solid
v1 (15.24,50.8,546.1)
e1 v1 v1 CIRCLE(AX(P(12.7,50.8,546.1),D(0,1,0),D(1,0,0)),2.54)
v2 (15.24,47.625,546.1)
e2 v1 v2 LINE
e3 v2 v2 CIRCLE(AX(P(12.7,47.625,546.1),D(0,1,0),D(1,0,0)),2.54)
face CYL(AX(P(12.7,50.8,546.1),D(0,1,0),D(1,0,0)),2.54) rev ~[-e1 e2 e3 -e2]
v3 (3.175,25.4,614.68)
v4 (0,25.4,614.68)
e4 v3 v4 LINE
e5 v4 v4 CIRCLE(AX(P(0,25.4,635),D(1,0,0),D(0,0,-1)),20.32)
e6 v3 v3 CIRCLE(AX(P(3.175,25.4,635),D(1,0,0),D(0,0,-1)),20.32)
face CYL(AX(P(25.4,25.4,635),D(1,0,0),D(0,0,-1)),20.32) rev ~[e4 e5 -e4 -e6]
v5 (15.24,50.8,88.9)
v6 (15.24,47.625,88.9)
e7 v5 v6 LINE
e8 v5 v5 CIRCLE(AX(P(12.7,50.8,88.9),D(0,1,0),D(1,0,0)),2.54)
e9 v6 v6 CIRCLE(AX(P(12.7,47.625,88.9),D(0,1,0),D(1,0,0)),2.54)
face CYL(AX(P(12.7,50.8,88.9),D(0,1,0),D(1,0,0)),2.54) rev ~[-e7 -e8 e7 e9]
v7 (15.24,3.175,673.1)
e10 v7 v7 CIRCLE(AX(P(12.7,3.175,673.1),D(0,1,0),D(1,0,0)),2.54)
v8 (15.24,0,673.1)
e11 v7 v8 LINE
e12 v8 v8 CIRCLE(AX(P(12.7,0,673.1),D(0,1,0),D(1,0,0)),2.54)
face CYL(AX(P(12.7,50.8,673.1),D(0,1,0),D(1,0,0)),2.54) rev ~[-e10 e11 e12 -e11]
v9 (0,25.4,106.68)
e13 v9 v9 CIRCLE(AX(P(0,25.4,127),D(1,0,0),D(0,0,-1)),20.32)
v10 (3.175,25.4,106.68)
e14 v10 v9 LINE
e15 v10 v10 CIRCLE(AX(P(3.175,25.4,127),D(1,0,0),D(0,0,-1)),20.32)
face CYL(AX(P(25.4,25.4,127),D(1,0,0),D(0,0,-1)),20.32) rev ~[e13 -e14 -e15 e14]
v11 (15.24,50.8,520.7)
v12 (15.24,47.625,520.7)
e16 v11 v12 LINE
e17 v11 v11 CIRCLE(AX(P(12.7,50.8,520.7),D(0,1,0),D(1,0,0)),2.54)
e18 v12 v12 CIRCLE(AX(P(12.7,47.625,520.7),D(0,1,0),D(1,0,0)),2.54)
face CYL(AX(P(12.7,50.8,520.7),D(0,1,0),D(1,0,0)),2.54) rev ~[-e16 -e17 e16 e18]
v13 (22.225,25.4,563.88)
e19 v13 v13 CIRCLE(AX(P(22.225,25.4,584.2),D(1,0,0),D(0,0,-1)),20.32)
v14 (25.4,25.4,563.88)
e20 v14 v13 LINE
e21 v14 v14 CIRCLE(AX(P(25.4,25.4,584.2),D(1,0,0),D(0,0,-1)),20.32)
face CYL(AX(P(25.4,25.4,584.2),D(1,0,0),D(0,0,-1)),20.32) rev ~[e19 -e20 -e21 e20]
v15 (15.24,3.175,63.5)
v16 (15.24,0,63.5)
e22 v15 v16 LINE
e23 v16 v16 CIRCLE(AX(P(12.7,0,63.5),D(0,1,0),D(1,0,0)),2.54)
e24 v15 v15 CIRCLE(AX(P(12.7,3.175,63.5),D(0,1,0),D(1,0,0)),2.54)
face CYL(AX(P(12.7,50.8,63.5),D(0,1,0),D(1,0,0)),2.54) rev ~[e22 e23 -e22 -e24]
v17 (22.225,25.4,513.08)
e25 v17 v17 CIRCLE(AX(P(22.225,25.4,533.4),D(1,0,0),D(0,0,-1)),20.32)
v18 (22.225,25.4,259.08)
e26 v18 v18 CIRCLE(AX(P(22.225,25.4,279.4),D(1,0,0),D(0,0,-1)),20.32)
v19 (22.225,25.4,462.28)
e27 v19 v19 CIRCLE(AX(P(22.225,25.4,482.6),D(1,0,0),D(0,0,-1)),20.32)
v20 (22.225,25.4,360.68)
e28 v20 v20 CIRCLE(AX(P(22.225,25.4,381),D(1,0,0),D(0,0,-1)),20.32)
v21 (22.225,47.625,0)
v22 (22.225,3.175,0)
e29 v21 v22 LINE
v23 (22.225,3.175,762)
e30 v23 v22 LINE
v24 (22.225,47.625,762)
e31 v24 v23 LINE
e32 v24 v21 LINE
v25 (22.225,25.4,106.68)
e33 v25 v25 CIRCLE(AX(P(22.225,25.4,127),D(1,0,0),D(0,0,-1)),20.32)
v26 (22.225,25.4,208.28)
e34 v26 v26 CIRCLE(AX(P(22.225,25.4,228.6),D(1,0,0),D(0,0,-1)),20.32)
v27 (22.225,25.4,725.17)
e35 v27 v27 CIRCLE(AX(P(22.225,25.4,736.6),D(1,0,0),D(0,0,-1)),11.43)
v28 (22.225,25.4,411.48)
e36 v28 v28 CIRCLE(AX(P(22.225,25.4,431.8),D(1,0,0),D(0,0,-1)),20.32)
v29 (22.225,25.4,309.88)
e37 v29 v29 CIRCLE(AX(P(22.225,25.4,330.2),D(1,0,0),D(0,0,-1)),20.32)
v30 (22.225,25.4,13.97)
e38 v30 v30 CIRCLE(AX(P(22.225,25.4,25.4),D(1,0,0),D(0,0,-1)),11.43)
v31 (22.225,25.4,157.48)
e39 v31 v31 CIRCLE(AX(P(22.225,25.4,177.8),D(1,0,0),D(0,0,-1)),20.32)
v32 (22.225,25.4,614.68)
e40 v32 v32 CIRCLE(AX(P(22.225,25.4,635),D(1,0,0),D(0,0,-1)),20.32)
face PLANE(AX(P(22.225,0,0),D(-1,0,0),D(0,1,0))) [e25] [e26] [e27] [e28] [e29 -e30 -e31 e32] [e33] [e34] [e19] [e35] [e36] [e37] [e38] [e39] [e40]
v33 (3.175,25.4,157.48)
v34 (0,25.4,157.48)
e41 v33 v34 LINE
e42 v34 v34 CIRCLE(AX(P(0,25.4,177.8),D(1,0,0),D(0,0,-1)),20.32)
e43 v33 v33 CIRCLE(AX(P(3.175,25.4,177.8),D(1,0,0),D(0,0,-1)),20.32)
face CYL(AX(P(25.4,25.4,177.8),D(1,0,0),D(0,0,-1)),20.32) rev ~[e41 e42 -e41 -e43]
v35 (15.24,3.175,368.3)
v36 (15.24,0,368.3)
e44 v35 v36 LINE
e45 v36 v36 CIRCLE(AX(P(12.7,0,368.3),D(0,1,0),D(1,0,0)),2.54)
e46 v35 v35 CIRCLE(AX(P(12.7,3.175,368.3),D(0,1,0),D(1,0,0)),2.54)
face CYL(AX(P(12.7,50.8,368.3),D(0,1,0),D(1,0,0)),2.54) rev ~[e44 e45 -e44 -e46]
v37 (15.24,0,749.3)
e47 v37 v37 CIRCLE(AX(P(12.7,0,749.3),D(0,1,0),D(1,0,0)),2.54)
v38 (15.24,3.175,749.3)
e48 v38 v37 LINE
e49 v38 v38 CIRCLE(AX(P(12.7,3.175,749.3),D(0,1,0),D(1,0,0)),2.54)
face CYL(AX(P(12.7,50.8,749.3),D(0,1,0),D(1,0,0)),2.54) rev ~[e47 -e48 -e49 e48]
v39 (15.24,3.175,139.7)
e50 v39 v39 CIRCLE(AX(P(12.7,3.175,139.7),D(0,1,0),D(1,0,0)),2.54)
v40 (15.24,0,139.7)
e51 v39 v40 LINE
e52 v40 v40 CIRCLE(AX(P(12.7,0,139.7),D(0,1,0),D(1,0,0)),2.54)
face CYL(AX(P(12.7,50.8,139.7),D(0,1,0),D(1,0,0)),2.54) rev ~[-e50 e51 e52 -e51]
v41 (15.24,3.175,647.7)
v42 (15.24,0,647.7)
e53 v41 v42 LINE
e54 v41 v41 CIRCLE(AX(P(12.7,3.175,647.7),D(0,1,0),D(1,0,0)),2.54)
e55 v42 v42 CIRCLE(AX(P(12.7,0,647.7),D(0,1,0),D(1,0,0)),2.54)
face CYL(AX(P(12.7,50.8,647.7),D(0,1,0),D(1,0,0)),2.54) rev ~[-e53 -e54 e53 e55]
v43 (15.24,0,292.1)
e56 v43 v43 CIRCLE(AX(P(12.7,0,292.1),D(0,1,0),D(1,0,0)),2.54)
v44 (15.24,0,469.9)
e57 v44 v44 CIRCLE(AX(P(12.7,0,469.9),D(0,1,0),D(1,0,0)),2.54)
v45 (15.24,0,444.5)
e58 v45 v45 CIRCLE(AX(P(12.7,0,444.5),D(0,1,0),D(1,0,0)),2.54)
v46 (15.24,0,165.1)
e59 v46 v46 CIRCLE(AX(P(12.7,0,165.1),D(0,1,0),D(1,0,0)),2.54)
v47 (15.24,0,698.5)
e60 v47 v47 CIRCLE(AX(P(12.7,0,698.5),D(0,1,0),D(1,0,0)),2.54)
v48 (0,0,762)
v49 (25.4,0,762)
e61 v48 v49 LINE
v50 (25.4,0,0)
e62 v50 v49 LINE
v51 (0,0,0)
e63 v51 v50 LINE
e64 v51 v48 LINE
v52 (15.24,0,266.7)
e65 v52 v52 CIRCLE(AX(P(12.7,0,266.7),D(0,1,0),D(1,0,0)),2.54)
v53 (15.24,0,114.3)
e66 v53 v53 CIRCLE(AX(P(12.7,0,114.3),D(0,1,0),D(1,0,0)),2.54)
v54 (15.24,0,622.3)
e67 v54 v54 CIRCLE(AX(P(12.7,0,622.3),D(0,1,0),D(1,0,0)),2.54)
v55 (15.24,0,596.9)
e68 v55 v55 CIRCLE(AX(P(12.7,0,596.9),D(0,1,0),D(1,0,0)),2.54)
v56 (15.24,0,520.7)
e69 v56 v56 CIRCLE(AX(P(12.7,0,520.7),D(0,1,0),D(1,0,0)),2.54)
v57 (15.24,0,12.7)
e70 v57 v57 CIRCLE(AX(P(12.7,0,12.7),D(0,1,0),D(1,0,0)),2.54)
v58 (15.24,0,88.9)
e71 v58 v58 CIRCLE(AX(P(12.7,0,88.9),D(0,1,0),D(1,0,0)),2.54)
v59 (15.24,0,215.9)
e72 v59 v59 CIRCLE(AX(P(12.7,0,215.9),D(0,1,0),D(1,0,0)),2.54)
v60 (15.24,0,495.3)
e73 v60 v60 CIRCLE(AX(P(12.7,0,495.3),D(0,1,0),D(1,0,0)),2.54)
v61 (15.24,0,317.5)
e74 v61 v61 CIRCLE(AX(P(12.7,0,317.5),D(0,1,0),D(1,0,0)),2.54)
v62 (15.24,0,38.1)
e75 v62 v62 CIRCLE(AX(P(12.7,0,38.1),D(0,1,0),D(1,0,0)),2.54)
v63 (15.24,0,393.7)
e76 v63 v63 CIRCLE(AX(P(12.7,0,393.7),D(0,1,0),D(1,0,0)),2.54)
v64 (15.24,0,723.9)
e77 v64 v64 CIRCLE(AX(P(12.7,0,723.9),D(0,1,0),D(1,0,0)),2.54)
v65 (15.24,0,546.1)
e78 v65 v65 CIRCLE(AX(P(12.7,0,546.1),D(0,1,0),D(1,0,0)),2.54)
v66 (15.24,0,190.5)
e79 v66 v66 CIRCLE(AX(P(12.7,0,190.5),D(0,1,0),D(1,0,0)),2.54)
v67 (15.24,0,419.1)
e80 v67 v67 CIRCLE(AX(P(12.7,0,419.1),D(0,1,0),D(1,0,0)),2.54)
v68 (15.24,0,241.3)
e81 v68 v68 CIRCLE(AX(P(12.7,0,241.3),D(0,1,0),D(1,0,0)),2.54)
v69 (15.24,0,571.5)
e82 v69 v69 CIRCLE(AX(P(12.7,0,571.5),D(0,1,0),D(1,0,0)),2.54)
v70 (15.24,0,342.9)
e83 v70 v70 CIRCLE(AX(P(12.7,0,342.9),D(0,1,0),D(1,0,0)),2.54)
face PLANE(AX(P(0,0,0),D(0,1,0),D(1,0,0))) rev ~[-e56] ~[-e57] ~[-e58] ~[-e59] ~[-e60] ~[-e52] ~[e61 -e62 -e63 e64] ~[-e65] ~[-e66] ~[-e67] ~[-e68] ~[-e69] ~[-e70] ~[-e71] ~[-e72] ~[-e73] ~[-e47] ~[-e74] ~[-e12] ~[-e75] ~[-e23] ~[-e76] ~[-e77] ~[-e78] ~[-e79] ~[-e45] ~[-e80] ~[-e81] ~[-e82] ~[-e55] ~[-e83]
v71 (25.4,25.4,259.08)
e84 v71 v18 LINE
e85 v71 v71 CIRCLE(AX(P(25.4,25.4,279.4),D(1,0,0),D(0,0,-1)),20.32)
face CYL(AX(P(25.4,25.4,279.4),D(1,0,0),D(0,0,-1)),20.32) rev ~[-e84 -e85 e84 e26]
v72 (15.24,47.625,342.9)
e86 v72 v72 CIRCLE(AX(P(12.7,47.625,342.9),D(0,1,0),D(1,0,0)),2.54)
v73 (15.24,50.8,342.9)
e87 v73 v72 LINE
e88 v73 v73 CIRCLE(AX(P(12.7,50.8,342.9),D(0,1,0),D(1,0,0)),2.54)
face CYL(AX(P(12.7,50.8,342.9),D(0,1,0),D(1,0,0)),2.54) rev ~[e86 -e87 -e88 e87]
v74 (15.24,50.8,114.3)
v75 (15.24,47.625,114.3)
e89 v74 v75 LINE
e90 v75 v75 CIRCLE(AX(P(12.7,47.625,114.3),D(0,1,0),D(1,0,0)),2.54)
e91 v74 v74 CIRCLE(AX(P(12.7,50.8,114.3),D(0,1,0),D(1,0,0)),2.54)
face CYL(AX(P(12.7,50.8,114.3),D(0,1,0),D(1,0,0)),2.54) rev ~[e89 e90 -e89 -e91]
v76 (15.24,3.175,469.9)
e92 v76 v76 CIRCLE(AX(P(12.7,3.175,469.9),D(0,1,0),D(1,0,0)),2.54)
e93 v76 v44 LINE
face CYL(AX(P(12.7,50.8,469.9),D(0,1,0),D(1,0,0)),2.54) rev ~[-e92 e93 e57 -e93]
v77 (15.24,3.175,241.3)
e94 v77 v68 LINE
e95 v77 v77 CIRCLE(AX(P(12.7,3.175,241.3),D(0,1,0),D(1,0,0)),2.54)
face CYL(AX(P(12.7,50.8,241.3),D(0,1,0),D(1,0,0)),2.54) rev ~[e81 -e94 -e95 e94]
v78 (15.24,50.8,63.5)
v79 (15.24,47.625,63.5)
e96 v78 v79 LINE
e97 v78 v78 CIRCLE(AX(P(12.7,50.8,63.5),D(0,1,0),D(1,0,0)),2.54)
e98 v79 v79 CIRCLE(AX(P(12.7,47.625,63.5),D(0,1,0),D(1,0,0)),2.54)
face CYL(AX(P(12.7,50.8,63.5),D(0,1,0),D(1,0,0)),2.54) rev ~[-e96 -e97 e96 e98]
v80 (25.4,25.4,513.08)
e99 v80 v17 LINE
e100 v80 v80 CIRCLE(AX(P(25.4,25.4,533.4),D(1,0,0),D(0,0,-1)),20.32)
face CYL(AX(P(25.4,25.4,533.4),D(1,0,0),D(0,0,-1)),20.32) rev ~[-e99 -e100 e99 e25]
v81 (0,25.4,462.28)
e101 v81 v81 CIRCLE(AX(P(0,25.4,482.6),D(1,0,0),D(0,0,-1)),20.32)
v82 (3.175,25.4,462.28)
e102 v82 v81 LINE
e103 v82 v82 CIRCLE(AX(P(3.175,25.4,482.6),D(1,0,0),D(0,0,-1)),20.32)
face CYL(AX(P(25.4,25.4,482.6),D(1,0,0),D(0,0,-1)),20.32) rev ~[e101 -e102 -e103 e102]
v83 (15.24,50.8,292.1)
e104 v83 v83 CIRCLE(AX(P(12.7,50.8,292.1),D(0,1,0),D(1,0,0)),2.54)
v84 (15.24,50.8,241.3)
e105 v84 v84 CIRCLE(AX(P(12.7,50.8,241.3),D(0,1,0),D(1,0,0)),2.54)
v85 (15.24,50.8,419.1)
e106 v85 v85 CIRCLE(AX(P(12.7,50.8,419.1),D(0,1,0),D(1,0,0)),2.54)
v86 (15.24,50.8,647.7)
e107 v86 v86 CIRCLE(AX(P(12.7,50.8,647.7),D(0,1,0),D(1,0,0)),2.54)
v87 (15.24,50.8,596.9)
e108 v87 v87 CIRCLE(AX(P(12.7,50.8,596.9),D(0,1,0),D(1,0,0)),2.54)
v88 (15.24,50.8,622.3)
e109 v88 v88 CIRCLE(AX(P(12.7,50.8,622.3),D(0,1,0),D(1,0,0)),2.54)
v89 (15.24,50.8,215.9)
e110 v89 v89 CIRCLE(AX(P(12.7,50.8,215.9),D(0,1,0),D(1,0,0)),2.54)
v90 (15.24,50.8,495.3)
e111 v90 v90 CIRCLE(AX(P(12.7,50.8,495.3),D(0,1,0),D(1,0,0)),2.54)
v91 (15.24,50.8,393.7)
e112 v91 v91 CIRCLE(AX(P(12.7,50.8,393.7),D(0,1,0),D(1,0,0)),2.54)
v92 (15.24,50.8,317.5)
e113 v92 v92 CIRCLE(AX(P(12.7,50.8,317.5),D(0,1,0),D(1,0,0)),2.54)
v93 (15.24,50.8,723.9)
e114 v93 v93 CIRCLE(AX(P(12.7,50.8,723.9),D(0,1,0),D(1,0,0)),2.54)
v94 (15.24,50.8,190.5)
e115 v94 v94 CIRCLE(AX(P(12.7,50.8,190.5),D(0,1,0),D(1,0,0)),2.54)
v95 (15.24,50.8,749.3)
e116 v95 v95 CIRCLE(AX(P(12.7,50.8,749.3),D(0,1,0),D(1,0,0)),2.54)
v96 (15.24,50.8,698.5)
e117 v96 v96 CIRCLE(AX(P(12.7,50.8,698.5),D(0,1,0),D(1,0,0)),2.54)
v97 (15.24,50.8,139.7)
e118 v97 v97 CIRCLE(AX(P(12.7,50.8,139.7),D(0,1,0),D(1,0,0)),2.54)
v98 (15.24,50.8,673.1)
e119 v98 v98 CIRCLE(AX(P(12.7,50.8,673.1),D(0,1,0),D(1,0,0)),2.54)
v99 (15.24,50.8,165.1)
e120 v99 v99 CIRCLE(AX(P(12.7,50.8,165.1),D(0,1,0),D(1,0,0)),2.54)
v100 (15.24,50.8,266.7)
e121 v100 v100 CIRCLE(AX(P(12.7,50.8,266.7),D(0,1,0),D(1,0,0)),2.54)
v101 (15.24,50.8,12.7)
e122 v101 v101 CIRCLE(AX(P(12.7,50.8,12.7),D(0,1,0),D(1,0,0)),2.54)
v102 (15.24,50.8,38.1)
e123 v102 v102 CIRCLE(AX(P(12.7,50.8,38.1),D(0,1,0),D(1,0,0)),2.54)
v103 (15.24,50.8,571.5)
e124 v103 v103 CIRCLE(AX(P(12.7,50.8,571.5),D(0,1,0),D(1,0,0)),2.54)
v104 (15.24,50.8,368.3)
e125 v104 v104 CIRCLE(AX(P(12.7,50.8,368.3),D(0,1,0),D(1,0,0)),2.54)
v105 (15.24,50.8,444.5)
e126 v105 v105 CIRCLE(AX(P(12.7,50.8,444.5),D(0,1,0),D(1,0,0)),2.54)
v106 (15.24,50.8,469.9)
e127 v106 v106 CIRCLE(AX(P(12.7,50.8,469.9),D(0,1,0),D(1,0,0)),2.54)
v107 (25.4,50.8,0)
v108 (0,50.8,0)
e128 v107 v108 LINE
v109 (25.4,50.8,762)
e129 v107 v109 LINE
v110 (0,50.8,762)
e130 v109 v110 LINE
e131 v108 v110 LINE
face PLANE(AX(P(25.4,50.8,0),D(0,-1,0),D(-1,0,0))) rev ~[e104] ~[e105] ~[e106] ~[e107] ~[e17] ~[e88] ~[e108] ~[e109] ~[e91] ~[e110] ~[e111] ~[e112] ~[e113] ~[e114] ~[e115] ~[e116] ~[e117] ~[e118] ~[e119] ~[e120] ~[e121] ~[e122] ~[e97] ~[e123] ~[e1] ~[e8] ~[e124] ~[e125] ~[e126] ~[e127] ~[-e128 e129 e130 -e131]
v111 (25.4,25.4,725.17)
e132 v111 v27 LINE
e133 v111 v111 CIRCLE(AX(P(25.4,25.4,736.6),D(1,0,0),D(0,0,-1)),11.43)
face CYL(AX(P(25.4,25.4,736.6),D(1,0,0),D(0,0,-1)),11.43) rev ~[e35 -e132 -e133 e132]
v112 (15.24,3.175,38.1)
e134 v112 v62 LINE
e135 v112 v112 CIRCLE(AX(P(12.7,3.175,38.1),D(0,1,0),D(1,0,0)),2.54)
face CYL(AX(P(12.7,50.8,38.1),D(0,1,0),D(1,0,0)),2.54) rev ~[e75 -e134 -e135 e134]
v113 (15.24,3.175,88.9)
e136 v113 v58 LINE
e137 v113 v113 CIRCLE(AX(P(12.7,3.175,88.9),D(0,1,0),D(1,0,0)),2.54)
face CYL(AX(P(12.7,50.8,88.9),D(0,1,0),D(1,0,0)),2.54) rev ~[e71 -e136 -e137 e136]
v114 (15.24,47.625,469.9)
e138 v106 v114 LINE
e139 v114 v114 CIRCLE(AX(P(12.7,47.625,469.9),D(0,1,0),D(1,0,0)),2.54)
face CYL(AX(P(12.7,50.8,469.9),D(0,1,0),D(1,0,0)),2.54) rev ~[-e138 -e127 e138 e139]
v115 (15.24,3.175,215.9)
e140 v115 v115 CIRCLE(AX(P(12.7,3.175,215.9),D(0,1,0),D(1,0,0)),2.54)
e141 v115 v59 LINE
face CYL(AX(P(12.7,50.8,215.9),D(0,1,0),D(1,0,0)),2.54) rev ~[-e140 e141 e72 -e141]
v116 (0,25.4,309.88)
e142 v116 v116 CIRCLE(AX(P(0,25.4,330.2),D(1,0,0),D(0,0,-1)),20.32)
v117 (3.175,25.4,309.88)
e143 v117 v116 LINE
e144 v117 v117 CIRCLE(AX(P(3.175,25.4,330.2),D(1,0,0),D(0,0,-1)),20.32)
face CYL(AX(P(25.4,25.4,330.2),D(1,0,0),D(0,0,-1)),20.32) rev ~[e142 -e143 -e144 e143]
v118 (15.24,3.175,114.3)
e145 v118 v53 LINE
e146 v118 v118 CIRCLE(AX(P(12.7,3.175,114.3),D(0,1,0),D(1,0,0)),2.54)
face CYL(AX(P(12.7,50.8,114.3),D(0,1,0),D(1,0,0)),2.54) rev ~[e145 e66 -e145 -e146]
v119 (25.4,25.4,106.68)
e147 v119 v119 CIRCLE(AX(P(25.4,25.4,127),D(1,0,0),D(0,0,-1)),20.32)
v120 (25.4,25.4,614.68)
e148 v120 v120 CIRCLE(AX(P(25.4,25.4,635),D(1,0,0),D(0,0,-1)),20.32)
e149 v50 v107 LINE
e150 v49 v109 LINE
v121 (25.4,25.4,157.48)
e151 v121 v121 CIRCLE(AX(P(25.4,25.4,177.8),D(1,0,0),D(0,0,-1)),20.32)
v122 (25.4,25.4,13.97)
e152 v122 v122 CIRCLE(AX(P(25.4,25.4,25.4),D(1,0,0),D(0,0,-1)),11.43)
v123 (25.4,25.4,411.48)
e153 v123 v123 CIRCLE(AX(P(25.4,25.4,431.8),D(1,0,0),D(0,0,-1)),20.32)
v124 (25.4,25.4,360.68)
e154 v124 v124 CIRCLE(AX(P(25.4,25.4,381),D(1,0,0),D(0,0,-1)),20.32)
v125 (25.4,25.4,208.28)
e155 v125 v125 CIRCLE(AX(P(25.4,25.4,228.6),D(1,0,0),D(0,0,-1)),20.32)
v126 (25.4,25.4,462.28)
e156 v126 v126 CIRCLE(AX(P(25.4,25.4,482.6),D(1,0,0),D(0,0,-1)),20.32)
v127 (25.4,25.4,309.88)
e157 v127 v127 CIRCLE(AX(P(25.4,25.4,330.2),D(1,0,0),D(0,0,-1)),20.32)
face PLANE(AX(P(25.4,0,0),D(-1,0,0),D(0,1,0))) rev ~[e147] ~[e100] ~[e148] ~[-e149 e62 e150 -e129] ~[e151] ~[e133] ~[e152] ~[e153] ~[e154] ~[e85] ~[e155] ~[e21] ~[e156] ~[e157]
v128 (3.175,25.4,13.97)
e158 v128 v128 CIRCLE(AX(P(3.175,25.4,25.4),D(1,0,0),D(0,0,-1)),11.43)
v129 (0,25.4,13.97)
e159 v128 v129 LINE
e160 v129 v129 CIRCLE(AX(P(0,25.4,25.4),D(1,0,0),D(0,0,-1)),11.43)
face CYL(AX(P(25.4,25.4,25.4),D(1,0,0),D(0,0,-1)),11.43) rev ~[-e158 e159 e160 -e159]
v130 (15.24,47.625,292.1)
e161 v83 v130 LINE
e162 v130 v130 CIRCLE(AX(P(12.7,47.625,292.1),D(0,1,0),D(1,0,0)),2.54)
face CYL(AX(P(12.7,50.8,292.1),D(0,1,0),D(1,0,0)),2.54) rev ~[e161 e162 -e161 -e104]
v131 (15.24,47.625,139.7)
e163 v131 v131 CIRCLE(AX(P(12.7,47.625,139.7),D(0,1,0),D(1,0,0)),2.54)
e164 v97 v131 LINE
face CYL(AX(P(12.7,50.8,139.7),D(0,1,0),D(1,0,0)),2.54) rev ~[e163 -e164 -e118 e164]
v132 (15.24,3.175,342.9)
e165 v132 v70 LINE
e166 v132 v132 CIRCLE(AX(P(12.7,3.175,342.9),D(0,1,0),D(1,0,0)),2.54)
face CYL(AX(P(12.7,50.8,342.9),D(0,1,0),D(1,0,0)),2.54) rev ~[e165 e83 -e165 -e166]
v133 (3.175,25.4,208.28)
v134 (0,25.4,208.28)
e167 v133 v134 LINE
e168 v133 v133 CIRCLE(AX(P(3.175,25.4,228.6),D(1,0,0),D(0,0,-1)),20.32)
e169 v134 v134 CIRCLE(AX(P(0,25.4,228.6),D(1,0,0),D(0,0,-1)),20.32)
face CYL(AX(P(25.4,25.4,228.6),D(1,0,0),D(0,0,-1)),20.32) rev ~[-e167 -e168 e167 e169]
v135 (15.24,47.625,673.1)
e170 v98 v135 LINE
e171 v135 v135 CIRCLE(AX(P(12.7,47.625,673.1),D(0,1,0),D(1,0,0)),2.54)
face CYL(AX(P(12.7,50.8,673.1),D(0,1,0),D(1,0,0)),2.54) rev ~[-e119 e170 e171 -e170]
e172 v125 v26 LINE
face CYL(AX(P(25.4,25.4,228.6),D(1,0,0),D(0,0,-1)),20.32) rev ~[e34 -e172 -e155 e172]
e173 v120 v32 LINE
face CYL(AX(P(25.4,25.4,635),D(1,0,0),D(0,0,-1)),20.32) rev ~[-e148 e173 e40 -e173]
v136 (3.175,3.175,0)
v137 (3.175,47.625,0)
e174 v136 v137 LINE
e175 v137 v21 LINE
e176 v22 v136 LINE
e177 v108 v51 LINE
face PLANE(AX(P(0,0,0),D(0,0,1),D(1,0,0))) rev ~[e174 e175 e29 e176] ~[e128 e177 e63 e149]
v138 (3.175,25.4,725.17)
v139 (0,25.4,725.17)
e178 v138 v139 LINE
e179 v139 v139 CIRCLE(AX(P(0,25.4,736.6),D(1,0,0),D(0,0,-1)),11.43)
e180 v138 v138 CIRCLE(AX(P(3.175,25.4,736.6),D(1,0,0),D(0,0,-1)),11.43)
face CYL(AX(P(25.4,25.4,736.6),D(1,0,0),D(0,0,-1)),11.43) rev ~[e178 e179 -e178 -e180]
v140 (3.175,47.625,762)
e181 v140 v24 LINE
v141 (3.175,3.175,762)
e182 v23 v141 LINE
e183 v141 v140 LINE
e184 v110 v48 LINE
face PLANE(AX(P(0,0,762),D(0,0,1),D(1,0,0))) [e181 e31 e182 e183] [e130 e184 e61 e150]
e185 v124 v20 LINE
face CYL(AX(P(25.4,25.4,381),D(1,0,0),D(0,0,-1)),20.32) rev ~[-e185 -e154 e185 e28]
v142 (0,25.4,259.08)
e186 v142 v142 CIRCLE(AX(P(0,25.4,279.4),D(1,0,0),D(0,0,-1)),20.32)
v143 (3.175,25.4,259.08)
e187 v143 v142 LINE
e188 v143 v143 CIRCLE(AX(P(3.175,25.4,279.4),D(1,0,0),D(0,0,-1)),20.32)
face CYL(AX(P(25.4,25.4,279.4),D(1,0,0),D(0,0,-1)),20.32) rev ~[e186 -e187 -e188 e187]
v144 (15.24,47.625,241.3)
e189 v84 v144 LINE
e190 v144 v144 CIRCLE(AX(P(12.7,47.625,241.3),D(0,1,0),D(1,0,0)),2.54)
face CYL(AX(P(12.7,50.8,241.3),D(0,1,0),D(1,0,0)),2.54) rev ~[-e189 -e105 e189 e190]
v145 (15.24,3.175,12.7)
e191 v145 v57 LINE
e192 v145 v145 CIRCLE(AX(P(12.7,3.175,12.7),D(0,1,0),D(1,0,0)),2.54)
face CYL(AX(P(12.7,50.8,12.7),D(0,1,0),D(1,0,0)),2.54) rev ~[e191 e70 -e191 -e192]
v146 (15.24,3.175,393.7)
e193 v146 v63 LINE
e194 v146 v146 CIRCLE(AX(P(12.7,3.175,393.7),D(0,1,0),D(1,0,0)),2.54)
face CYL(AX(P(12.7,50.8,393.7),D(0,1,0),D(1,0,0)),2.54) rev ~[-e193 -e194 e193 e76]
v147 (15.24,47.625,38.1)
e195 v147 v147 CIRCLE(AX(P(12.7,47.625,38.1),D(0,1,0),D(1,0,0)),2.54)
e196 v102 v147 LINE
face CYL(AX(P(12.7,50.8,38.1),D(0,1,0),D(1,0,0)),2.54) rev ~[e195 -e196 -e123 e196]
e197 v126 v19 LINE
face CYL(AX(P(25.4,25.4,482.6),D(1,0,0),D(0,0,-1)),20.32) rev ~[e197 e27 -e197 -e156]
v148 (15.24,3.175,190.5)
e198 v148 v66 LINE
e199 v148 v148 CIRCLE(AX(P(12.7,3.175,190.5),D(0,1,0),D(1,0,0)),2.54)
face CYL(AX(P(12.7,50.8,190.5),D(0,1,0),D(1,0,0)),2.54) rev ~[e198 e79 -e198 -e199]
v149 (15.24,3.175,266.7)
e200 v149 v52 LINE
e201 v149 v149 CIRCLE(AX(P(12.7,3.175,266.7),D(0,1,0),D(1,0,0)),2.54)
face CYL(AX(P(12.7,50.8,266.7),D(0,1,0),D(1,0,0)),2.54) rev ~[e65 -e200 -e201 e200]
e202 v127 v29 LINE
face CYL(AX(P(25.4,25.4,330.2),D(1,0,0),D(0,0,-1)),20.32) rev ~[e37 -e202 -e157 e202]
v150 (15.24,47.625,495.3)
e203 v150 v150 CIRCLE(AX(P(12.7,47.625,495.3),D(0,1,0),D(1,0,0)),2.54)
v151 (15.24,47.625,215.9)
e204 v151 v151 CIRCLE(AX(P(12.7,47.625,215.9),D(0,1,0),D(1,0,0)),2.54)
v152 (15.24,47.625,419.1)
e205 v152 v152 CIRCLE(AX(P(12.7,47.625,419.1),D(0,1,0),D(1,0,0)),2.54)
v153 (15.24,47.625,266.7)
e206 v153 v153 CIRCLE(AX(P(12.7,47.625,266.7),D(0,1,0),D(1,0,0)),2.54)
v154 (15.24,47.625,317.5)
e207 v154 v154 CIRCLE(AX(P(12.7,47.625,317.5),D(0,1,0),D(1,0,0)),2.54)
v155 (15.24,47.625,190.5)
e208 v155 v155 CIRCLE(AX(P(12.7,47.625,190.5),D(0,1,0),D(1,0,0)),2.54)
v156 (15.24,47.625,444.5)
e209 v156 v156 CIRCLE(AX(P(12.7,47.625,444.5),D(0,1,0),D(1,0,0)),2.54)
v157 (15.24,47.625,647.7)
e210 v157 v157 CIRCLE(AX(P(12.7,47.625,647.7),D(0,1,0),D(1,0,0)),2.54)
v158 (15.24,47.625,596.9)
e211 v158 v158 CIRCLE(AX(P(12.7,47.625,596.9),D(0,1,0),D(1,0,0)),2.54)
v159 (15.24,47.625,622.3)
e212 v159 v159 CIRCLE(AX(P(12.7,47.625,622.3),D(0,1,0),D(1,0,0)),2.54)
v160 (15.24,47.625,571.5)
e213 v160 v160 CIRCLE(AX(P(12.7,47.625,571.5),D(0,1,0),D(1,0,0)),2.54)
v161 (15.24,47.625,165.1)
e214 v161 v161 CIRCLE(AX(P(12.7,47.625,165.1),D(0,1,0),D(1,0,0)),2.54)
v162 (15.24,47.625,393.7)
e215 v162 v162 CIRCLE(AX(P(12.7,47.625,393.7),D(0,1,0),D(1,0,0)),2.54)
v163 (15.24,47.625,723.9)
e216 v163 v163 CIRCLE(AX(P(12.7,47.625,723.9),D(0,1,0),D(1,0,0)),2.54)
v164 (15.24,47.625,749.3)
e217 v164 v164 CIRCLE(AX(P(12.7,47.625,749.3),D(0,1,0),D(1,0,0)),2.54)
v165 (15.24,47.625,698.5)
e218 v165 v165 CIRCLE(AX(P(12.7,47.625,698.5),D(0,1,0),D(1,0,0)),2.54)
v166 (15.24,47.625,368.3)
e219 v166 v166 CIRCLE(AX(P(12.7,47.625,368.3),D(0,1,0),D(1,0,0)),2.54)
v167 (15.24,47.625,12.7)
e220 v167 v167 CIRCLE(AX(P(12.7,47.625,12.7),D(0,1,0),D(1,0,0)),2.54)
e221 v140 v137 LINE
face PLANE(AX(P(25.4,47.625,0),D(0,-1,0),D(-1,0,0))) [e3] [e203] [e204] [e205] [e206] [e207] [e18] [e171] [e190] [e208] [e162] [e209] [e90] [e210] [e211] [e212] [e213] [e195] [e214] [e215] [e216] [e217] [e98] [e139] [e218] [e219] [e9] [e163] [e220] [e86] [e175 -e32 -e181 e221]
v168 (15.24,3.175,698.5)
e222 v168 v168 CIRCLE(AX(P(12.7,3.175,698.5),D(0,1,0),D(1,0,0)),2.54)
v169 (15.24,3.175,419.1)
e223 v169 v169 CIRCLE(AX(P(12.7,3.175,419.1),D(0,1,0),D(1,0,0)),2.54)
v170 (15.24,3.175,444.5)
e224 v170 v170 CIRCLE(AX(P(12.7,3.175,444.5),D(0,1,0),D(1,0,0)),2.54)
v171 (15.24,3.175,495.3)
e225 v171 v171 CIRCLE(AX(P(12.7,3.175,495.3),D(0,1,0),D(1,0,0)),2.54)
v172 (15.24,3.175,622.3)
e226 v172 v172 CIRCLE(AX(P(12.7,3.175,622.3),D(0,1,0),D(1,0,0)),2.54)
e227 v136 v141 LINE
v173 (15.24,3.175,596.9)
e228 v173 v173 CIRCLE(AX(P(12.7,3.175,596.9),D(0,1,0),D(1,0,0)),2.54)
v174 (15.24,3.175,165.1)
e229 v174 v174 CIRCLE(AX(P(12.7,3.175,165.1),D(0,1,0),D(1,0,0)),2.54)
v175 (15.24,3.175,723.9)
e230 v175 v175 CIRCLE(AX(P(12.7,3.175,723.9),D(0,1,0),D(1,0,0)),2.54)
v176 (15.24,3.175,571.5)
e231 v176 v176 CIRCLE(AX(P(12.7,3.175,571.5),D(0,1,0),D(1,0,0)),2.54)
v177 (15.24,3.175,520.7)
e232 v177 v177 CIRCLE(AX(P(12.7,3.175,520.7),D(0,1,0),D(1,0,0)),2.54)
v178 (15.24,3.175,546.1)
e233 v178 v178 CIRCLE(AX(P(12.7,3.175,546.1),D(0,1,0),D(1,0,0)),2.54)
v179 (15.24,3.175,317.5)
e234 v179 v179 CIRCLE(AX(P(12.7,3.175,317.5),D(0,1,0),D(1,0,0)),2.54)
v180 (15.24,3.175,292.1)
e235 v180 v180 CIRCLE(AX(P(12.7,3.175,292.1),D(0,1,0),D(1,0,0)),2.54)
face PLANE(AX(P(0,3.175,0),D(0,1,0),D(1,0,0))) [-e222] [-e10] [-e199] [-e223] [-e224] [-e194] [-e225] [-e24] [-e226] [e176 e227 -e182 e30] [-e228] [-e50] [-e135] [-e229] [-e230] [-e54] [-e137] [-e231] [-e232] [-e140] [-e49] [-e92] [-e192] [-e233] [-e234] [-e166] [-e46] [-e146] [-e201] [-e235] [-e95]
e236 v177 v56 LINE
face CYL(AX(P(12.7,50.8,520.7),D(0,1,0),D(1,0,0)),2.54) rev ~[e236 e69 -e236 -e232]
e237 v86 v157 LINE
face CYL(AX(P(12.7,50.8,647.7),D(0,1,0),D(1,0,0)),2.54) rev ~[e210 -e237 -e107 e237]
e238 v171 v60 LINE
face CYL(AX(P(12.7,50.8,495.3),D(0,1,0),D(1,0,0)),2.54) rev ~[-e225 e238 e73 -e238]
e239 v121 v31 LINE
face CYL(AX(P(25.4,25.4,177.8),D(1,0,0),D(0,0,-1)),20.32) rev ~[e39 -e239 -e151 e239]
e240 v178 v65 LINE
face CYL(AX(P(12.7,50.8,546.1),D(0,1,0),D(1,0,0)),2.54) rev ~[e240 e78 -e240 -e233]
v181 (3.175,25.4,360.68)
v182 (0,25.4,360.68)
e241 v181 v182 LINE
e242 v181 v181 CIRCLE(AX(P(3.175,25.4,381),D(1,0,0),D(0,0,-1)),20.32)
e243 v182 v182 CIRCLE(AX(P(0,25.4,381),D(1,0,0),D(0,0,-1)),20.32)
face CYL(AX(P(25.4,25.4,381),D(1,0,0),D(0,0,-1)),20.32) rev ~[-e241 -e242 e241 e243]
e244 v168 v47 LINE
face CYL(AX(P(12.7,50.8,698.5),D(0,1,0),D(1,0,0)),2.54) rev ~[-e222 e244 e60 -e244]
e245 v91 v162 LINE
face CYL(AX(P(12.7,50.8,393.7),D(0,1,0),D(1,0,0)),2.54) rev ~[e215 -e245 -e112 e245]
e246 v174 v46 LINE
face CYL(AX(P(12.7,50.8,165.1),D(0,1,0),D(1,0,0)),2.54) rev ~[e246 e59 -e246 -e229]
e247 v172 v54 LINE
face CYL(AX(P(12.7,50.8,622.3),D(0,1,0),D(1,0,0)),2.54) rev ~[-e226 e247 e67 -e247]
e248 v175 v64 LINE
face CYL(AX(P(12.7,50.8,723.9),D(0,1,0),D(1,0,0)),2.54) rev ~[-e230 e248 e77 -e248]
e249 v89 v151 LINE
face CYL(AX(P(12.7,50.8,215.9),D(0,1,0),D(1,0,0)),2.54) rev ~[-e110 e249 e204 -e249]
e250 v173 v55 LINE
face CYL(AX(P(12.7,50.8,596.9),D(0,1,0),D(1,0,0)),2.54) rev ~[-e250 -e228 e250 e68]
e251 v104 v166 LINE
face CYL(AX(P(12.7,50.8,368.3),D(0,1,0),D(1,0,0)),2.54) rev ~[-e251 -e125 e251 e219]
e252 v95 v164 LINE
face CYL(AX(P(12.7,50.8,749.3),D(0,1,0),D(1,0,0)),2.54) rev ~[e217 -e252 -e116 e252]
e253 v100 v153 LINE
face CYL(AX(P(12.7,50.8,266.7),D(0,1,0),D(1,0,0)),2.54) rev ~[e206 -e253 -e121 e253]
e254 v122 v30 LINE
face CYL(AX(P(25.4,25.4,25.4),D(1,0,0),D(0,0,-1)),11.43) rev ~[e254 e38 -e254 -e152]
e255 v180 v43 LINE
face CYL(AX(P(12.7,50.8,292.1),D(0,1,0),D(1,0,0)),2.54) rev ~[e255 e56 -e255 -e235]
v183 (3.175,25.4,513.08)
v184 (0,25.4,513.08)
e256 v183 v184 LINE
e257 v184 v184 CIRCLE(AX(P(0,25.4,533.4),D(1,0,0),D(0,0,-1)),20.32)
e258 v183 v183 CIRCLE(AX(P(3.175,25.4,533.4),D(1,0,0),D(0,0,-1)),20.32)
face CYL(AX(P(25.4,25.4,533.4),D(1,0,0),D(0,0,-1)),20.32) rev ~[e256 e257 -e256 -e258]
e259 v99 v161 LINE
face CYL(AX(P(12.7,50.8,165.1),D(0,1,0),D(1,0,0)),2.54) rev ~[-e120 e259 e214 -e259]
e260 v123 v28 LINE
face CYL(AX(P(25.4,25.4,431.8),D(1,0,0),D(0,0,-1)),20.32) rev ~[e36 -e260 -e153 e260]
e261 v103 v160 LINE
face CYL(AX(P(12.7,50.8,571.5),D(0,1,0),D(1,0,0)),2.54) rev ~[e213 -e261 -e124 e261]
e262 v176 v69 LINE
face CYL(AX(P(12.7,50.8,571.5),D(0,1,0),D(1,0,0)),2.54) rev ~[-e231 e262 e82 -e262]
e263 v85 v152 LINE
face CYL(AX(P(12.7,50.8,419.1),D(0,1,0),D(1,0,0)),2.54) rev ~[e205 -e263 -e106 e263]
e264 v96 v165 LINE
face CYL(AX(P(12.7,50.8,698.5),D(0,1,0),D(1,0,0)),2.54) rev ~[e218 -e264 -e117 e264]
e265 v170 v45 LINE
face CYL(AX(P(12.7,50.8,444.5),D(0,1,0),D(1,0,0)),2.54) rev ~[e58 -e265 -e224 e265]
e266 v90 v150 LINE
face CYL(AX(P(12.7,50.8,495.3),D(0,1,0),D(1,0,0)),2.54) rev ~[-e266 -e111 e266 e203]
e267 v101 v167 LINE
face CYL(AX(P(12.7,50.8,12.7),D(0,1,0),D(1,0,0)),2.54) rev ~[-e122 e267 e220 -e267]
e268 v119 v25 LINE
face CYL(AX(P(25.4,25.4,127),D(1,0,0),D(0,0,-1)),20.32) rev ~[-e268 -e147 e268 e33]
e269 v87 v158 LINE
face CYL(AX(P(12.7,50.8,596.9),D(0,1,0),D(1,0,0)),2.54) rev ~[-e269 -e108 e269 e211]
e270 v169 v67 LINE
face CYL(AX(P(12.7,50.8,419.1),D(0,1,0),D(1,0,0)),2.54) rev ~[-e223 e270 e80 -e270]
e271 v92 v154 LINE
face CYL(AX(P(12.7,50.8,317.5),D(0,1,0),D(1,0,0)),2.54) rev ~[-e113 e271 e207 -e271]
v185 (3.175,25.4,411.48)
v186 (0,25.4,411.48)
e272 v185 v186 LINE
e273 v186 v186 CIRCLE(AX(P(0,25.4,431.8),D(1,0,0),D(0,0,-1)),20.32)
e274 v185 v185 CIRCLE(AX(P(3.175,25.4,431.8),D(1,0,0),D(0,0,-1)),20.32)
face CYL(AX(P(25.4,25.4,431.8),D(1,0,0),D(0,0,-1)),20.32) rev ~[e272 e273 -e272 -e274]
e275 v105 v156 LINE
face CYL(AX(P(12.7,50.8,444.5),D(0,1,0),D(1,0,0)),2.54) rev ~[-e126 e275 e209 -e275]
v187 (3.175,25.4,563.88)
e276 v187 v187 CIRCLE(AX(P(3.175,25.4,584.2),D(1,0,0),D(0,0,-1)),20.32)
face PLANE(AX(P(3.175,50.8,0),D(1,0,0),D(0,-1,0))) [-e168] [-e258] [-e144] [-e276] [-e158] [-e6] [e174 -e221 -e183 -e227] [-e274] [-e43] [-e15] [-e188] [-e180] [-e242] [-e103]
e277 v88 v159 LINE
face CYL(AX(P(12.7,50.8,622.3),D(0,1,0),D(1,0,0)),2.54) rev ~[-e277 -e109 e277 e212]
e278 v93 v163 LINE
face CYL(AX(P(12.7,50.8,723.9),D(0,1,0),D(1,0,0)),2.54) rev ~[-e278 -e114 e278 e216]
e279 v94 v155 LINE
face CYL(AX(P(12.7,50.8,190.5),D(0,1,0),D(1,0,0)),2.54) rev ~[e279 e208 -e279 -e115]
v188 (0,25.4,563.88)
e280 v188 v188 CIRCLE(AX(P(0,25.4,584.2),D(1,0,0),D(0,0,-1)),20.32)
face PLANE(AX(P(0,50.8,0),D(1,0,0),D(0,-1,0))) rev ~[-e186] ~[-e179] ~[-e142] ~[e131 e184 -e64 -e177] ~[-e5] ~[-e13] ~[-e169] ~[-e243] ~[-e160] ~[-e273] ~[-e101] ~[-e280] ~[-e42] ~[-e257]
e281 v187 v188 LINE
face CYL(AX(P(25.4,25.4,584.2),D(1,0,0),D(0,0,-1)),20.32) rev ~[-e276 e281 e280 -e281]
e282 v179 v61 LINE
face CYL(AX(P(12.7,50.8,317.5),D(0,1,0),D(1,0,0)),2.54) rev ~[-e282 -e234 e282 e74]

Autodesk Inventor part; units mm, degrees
ref_plane "YZ Plane" through (0, 0, 0) normal (1, 0, 0) x (0, 1, 0)
ref_plane "XZ Plane" through (0, 0, 0) normal (0, 1, 0) x (-1, 0, 0)
ref_plane "XY Plane" through (0, 0, 0) normal (0, 0, 1) x (1, 0, 0)
sketch "Sketch1" plane through (0, 0, 0) normal (0, 0, 1) x (1, 0, 0)
  line L0 (0, 0) -> (25.4, 0)
  line L1 (25.4, 0) -> (25.4, 50.8)
  line L2 (25.4, 50.8) -> (0, 50.8)
  line L3 (0, 50.8) -> (0, 0)
  dimension "d0" = 50.8
  dimension "d1" = 25.4
extrude "Extrusion1" add sketch "Sketch1" along normal blind 762
shell "Shell1" thickness 3.175 removed faces 2 at (16.9333, 16.9333, 0) at (16.9333, 16.9333, 762)
sketch "Sketch2" plane through (25.4, 0, 0) normal (1, 0, 0) x (0, 0, -1)
  circle A0 centre (-635, 25.4) radius 20.32
  line L0 (0, 50.8) -> (-762, 50.8) projected
  circle A1 centre (-584.2, 25.4) radius 20.32
  circle A2 centre (-533.4, 25.4) radius 20.32
  circle A3 centre (-482.6, 25.4) radius 20.32
  circle A4 centre (-431.8, 25.4) radius 20.32
  circle A5 centre (-381, 25.4) radius 20.32
  circle A6 centre (-330.2, 25.4) radius 20.32
  circle A7 centre (-279.4, 25.4) radius 20.32
  circle A8 centre (-228.6, 25.4) radius 20.32
  circle A9 centre (-177.8, 25.4) radius 20.32
  circle A10 centre (-127, 25.4) radius 20.32
  line L1 (-762, 0) -> (-762, 50.8) projected
  circle A11 centre (-736.6, 25.4) radius 11.43
  circle A12 centre (-25.4, 25.4) radius 11.43
  line L2 (0, 0) -> (0, 50.8) projected
  dimension "d5" = 40.64
  dimension "d6" = 25.4
  dimension "d9" = 50.8
  dimension "d14" = 127
  dimension "d17" = 22.86
  dimension "d18" = 22.86
  dimension "d19" = 25.4
  dimension "d20" = 25.4
  dimension "d21" = 25.4
  dimension "d22" = 25.4
extrude "Extrusion2" cut sketch "Sketch2" against normal blind 25.4
sketch "Sketch3" plane through (0, 50.8, 0) normal (0, 1, 0) x (1, 0, 0)
  circle A0 centre (12.7, -749.3) radius 2.54
  line L0 (0, 0) -> (0, -762) projected
  line L1 (25.4, -762) -> (0, -762) projected
  circle A1 centre (12.7, -723.9) radius 2.54
  circle A2 centre (12.7, -698.5) radius 2.54
  circle A3 centre (12.7, -673.1) radius 2.54
  circle A4 centre (12.7, -647.7) radius 2.54
  circle A5 centre (12.7, -622.3) radius 2.54
  circle A6 centre (12.7, -596.9) radius 2.54
  circle A7 centre (12.7, -571.5) radius 2.54
  circle A8 centre (12.7, -546.1) radius 2.54
  circle A9 centre (12.7, -520.7) radius 2.54
  circle A10 centre (12.7, -495.3) radius 2.54
  circle A11 centre (12.7, -469.9) radius 2.54
  circle A12 centre (12.7, -444.5) radius 2.54
  circle A13 centre (12.7, -419.1) radius 2.54
  circle A14 centre (12.7, -393.7) radius 2.54
  circle A15 centre (12.7, -368.3) radius 2.54
  circle A16 centre (12.7, -342.9) radius 2.54
  circle A17 centre (12.7, -317.5) radius 2.54
  circle A18 centre (12.7, -292.1) radius 2.54
  circle A19 centre (12.7, -266.7) radius 2.54
  circle A20 centre (12.7, -241.3) radius 2.54
  circle A21 centre (12.7, -215.9) radius 2.54
  circle A22 centre (12.7, -190.5) radius 2.54
  circle A23 centre (12.7, -165.1) radius 2.54
  circle A24 centre (12.7, -139.7) radius 2.54
  circle A25 centre (12.7, -114.3) radius 2.54
  circle A26 centre (12.7, -88.9) radius 2.54
  circle A27 centre (12.7, -63.5) radius 2.54
  circle A28 centre (12.7, -38.1) radius 2.54
  circle A29 centre (12.7, -12.7) radius 2.54
  dimension "d23" = 5.08
  dimension "d24" = 12.7
  dimension "d25" = 12.7
  dimension "d28" = 25.4
extrude "Extrusion3" cut sketch "Sketch3" against normal blind 50.8
equation "\"d20\" = d19"
properties part number "Kermit Frame 14"
